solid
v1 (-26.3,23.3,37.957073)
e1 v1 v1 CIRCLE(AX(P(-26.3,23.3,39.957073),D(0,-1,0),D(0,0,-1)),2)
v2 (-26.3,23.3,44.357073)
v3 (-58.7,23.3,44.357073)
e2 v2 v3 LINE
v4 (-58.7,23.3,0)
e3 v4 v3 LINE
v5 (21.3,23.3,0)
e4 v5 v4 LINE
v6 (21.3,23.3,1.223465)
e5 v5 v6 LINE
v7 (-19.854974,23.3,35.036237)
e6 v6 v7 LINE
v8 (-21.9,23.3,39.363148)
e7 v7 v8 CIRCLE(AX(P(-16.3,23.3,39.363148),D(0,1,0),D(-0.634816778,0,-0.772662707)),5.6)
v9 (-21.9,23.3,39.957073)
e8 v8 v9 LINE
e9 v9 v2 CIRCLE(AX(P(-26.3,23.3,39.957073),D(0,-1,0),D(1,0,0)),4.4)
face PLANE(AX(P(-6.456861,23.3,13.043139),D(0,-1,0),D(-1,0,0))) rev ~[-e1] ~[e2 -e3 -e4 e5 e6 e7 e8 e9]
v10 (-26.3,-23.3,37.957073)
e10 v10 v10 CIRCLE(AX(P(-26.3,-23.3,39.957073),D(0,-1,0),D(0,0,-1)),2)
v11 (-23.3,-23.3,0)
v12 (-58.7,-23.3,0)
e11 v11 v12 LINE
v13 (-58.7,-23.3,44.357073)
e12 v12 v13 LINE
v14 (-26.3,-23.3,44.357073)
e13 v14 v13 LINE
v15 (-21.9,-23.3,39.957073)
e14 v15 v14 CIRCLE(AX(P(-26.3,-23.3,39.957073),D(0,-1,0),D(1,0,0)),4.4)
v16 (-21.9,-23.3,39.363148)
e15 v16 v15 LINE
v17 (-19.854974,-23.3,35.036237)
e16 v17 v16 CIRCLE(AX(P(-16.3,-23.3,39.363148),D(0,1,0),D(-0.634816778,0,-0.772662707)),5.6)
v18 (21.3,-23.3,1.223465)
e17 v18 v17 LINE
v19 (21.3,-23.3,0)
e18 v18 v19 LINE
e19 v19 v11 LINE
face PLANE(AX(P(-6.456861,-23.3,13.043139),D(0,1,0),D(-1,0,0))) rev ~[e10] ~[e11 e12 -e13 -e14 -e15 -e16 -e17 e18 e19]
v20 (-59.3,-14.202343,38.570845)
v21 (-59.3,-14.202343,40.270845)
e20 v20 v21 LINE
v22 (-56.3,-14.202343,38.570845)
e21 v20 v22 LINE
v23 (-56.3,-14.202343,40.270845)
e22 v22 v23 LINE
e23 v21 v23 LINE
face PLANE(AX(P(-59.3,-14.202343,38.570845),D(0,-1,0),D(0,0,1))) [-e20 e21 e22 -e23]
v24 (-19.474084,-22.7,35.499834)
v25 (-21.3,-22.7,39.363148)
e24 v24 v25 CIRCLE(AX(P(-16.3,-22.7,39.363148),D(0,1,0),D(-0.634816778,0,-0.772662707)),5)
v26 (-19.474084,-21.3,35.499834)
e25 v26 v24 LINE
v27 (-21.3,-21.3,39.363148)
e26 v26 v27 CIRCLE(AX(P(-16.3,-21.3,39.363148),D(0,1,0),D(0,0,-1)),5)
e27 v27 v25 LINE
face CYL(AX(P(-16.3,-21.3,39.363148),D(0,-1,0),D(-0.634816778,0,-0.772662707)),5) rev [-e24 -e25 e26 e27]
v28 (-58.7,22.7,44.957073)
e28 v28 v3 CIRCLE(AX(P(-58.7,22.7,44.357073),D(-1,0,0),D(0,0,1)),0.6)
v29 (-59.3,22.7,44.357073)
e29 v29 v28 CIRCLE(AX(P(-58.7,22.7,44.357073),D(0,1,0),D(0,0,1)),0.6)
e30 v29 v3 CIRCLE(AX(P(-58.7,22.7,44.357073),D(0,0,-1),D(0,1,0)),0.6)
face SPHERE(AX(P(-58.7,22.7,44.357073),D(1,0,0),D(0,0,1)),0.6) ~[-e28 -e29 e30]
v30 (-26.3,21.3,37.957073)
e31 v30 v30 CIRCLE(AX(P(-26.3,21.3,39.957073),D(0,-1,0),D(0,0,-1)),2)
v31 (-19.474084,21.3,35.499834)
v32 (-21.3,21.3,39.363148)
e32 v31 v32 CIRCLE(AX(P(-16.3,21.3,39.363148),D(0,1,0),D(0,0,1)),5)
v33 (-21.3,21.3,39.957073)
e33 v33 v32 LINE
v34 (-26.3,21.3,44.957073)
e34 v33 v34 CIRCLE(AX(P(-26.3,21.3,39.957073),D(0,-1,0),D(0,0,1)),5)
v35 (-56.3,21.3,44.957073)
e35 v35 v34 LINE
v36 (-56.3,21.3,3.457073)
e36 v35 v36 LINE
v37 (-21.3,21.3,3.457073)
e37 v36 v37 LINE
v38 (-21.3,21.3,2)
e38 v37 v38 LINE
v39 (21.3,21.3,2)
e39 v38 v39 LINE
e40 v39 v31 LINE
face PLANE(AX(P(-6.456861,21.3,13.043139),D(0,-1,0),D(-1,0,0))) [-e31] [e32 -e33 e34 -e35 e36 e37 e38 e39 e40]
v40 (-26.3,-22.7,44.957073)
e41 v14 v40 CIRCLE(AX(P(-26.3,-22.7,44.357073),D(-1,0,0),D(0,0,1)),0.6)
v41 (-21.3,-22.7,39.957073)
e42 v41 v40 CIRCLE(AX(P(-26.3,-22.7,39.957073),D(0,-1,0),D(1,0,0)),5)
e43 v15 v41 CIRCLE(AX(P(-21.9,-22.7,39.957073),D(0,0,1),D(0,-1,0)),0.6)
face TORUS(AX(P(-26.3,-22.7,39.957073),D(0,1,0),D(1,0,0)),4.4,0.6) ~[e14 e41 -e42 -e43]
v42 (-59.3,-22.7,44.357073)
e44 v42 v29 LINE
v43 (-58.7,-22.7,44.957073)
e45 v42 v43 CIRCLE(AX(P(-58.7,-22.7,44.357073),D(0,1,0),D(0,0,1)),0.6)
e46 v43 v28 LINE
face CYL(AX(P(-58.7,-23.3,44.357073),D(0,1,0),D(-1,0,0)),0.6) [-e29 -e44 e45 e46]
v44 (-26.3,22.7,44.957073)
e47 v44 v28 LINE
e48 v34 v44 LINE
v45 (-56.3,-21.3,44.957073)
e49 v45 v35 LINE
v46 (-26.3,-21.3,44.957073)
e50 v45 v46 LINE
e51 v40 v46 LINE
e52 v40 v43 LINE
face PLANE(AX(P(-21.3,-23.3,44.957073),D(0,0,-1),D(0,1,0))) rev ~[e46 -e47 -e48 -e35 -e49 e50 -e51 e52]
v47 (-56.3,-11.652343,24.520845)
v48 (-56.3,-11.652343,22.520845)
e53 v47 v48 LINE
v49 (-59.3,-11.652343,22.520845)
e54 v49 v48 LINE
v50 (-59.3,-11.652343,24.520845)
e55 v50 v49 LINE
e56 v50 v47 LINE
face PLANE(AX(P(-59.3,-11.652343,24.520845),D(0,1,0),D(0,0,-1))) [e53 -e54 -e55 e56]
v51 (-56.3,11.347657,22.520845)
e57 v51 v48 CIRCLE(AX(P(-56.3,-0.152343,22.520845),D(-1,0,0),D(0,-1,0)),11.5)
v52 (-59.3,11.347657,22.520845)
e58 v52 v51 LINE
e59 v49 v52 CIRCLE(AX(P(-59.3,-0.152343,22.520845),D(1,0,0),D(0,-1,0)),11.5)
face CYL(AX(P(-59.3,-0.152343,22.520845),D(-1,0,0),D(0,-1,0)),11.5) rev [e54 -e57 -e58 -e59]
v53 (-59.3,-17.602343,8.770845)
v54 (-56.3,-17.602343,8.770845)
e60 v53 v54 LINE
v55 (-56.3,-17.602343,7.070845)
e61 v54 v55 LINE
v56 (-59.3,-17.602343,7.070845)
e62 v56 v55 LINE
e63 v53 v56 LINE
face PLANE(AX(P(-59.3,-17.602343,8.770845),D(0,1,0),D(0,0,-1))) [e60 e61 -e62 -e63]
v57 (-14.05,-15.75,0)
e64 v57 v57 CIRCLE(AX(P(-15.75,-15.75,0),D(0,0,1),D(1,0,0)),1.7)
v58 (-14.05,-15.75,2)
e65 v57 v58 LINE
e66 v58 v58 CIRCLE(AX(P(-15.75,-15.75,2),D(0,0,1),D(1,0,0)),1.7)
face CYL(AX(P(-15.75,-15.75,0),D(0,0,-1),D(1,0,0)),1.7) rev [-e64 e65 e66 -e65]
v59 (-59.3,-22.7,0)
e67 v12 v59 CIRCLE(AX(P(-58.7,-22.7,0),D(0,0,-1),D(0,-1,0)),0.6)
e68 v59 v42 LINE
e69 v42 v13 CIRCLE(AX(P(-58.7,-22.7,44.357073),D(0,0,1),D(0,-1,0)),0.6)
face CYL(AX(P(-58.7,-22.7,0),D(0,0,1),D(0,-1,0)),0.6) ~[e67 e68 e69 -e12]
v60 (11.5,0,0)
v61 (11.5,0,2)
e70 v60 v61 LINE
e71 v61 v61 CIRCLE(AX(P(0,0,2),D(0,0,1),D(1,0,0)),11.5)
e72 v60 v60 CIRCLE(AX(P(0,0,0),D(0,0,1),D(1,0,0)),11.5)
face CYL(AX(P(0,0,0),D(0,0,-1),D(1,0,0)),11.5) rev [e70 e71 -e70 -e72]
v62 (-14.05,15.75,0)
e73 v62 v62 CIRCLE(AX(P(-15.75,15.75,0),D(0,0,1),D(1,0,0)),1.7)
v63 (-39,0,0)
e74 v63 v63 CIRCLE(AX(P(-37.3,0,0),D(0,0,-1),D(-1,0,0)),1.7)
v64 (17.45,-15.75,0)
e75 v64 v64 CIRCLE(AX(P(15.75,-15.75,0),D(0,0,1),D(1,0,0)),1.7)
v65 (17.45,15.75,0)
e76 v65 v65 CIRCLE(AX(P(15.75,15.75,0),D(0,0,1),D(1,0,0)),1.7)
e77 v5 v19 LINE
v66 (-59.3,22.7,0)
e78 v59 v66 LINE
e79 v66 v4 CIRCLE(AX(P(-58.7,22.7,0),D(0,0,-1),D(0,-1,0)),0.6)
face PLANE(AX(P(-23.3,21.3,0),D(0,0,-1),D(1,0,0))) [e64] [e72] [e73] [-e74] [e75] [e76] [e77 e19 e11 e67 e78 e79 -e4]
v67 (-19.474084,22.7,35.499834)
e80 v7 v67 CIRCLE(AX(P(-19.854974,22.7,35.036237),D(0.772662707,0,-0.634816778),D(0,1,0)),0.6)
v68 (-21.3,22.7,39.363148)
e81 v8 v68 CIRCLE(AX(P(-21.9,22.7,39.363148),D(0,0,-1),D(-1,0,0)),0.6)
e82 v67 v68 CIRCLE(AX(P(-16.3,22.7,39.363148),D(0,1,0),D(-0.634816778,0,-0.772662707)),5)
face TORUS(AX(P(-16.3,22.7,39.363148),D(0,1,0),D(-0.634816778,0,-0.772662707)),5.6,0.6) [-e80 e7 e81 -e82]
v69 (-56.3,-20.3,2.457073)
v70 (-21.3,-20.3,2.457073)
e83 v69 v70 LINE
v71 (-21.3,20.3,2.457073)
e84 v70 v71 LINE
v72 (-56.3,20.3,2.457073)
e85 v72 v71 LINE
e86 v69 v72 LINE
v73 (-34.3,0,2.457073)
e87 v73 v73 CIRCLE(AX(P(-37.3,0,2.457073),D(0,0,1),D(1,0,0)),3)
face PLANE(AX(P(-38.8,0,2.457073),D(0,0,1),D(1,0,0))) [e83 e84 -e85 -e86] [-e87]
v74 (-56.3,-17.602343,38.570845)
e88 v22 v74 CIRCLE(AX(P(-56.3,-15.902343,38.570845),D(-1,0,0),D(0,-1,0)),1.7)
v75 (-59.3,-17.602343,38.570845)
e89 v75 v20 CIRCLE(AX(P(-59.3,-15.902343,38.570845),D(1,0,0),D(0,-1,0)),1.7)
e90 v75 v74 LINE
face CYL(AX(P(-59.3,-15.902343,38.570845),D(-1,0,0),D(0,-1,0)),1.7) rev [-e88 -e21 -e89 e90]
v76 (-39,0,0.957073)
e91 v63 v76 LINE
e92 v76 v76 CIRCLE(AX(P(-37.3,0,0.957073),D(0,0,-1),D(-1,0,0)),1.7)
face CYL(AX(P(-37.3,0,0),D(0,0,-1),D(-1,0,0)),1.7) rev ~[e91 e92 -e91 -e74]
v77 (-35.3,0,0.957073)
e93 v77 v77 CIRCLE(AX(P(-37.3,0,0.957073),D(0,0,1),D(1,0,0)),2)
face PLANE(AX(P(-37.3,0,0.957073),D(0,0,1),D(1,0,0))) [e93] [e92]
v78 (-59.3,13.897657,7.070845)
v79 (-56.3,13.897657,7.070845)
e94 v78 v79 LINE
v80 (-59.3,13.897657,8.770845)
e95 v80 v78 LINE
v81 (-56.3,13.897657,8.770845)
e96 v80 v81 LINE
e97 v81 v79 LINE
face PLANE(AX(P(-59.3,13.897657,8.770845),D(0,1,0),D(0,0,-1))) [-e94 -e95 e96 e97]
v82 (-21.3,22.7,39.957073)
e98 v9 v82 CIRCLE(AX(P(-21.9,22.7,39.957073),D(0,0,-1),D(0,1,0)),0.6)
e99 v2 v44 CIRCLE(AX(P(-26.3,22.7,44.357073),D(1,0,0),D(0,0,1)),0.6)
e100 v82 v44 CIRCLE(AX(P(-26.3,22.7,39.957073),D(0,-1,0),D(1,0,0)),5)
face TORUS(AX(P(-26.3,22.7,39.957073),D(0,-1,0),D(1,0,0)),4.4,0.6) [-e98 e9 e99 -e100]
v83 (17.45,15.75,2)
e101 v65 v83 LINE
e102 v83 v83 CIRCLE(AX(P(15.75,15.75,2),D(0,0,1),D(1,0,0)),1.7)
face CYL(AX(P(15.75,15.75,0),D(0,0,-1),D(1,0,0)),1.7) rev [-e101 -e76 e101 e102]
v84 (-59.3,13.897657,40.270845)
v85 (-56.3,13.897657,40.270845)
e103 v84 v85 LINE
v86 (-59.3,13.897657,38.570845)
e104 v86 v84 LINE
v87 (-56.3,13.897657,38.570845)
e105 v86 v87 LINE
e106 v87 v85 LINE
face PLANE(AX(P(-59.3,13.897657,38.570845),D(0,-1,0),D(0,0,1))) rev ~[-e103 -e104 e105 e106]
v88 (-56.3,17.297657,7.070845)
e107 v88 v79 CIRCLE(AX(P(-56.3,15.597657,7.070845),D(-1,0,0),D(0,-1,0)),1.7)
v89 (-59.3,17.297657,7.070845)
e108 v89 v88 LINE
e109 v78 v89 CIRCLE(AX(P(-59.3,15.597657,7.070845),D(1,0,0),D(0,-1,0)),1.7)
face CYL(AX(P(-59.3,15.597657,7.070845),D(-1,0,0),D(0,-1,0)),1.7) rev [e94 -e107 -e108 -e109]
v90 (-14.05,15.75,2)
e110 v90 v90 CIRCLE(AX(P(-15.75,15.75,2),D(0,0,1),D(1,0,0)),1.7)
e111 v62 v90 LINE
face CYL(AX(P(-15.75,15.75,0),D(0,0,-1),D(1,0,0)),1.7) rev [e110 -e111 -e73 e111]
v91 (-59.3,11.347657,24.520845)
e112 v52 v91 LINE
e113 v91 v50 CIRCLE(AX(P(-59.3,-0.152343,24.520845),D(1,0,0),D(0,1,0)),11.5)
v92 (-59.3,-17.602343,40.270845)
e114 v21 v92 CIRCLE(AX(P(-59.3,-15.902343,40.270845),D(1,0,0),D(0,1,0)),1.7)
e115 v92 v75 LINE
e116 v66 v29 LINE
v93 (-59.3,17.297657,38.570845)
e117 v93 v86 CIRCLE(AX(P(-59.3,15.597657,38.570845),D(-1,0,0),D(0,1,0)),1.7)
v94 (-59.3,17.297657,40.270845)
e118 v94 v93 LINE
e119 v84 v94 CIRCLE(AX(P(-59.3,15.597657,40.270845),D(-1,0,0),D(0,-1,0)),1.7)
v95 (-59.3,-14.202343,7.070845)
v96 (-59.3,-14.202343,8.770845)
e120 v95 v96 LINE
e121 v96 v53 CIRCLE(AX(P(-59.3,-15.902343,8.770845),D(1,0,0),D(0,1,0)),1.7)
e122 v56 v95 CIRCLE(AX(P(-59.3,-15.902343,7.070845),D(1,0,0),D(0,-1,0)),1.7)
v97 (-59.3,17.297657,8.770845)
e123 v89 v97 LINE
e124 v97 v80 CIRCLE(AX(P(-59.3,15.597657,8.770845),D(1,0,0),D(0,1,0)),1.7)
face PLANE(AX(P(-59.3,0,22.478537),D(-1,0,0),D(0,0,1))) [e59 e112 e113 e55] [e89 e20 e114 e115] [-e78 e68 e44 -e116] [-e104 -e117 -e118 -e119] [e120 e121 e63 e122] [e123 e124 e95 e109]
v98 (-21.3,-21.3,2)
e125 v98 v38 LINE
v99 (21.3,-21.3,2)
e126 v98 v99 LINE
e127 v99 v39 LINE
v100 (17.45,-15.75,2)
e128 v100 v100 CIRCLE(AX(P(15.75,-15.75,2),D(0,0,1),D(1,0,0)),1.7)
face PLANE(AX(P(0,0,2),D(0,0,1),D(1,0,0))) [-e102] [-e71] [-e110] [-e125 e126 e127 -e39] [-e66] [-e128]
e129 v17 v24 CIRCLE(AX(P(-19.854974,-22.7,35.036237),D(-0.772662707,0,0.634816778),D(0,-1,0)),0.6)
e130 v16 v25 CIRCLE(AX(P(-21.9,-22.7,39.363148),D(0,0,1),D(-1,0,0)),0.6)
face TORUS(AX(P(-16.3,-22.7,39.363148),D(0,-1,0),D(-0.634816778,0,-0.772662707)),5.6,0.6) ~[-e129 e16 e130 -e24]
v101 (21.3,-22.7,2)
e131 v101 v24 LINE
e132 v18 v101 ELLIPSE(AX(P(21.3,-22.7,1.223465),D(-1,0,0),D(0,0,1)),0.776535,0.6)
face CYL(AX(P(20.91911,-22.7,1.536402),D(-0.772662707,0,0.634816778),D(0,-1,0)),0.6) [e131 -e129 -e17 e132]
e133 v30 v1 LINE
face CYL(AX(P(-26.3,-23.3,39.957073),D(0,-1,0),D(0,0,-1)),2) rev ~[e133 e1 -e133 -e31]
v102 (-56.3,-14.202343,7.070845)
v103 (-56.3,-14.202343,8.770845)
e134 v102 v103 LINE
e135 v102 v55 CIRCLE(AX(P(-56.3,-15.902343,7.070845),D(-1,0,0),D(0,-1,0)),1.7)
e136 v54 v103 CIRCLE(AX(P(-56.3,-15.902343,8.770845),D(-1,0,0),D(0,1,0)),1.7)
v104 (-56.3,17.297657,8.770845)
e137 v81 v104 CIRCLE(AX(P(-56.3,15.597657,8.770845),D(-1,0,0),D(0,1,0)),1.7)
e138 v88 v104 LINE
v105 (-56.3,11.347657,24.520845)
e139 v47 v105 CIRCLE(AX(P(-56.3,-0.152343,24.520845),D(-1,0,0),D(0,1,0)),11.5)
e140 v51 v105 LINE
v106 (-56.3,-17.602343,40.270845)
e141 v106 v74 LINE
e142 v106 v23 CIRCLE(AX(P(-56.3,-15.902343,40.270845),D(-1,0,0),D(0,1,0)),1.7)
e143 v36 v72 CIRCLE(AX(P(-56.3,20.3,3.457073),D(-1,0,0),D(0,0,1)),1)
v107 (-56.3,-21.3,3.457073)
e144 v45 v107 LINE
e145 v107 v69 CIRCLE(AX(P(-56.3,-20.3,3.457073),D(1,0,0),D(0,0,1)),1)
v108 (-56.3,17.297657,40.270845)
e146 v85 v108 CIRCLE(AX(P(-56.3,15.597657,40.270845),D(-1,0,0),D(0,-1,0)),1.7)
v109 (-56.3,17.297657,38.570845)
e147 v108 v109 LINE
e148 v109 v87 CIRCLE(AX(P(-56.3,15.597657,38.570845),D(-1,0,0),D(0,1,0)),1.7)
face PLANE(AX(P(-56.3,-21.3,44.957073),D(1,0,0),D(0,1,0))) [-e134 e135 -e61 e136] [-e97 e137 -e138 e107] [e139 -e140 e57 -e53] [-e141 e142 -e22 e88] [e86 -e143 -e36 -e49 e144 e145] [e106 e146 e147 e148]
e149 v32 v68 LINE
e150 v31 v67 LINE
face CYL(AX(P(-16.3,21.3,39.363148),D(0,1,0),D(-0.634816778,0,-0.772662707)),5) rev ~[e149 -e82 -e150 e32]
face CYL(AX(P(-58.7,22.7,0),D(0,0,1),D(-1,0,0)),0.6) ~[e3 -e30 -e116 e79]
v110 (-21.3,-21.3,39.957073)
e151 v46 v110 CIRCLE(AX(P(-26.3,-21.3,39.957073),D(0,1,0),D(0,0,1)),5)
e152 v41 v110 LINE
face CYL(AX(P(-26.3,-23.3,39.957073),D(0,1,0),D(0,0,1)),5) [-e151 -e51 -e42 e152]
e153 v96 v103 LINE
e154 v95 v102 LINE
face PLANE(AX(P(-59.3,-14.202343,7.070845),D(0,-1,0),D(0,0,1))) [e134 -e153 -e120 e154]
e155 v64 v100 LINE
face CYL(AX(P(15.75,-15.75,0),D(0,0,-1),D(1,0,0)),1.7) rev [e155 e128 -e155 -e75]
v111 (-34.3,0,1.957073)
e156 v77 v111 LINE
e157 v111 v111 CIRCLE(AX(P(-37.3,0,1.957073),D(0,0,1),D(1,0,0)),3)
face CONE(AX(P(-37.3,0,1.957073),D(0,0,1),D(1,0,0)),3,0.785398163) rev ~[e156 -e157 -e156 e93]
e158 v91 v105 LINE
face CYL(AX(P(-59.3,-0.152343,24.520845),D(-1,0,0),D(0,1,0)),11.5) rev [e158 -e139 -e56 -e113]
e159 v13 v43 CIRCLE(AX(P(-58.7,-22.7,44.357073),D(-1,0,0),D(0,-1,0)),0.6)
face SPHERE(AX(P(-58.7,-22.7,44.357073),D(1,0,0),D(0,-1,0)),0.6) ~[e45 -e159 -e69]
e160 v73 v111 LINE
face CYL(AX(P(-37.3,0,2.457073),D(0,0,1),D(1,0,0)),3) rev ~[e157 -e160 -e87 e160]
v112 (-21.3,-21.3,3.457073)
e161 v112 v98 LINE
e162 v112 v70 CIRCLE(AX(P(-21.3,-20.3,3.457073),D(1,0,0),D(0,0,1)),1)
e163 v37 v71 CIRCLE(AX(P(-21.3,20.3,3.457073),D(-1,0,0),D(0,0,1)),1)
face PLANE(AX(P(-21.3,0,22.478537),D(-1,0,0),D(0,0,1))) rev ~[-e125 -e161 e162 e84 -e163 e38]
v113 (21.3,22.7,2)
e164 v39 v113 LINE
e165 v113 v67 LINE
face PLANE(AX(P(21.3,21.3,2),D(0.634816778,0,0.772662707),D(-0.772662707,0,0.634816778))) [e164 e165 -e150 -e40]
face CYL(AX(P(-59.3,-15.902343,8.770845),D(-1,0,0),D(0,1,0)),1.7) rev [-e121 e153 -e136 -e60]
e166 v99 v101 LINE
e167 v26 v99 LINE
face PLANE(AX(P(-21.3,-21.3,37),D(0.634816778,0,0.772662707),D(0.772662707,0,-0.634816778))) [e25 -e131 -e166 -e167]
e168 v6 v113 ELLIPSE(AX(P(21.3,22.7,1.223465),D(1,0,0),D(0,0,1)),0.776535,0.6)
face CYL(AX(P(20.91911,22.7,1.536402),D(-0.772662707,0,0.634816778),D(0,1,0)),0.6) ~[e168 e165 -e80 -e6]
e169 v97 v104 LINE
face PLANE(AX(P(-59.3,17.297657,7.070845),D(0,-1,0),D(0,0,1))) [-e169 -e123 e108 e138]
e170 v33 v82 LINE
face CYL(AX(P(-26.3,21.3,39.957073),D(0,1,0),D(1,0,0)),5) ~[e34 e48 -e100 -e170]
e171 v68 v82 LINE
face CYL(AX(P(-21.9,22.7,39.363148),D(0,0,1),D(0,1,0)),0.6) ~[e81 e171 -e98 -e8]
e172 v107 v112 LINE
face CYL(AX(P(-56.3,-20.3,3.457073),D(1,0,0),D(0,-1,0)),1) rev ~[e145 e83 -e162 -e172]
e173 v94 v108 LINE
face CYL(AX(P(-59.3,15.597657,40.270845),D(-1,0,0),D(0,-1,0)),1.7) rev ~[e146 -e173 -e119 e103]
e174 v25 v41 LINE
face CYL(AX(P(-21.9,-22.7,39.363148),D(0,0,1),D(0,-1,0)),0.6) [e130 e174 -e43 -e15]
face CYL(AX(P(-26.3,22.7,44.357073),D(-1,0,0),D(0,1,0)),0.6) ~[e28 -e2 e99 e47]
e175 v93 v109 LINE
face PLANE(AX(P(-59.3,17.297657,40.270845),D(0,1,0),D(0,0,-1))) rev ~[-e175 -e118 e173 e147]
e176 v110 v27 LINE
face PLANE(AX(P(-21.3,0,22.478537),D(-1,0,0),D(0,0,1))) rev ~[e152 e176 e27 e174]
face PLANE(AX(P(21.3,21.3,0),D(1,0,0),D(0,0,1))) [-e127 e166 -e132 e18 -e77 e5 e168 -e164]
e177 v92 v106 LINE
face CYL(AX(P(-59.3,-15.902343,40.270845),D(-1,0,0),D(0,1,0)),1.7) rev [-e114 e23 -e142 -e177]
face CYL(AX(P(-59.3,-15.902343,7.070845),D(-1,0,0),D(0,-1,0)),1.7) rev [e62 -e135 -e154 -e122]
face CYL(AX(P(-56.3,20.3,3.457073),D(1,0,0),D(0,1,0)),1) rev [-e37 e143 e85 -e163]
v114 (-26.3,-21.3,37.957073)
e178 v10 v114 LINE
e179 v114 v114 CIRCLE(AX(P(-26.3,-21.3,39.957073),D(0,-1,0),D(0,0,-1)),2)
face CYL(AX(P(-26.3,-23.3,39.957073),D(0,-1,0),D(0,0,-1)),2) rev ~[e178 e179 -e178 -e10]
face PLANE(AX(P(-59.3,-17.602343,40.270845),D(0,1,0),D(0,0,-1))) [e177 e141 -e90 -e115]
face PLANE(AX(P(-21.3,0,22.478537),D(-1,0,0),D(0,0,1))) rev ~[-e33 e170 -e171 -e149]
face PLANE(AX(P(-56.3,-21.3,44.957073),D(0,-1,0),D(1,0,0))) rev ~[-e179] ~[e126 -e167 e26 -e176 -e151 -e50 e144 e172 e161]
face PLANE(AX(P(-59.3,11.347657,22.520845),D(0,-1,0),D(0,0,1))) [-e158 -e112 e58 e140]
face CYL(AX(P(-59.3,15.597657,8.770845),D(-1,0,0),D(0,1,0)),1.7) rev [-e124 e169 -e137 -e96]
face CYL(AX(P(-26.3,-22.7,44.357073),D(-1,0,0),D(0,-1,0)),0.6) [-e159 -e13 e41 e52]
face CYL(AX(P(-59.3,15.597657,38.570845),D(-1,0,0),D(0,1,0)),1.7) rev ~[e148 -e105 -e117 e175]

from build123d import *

# Parameters (mm, degrees)
SKETCH_1_W               = 42.6
SKETCH_1_H               = 42.6
SKETCH_1_R               = 1.7
SKETCH_1_R_2             = 11.5
EXTRUDE_1_DEPTH          = 2
SKETCH_2_W               = 37
SKETCH_2_H               = 42.6
EXTRUDE_2_DEPTH          = 2
EXTRUDE_3_DEPTH          = 2
EXTRUDE_4_DEPTH          = 2
BOSS_EXTRUDE1_DEPTH      = 36
BOSS_EXTRUDE1_DEPTH_BACK = 2
SKETCH1_W                = 44.957073211
SKETCH1_H                = 46.6
SKETCH4_W                = 35
SKETCH4_H                = 42.6
CUT_EXTRUDE2_DEPTH       = 42.5
CUT_EXTRUDE3_REACH       = 97.186
CUT_EXTRUDE4_REACH       = 79.978
SKETCH6_R                = 1.7
SKETCH7_R                = 3
CUT_EXTRUDE5_DEPTH       = 1.5
FILLET1_R                = 5
FILLET2_R                = 1
CHAMFER1_SIZE            = 1
FILLET3_R                = 0.6
SKETCH8_R                = 2
CUT_EXTRUDE6_DEPTH       = 88.801984213


with BuildPart() as part:
    # Эскиз1 → Бобышка-Вытянуть1 (new body)
    with BuildSketch(Plane.XY):
        Rectangle(SKETCH_1_W, SKETCH_1_H)
        with Locations((-15.75, 15.75)):
            Circle(SKETCH_1_R, mode=Mode.SUBTRACT)
        with Locations((15.75, 15.75)):
            Circle(SKETCH_1_R, mode=Mode.SUBTRACT)
        with Locations((15.75, -15.75)):
            Circle(SKETCH_1_R, mode=Mode.SUBTRACT)
        with Locations((-15.75, -15.75)):
            Circle(SKETCH_1_R, mode=Mode.SUBTRACT)
        Circle(SKETCH_1_R_2, mode=Mode.SUBTRACT)
    extrude(amount=EXTRUDE_1_DEPTH)

    # Эскиз2 → Бобышка-Вытянуть2 (add)
    with BuildSketch(Plane.ZY.offset(21.3)):
        with Locations((18.5, 0)):
            Rectangle(SKETCH_2_W, SKETCH_2_H)
    extrude(amount=EXTRUDE_2_DEPTH)

    # Эскиз3 → Бобышка-Вытянуть3 (add)
    with BuildSketch(Plane.XZ.offset(21.3)):
        Polygon((-23.3, 0), (-23.3, 37), (-21.3, 37), (21.3, 2), (21.3, 0), align=None)
    extrude(amount=EXTRUDE_3_DEPTH)

    # Эскиз4 → Бобышка-Вытянуть4 (add)
    with BuildSketch(Plane(origin=(0, 21.3, 0), x_dir=(1, 0, 0), z_dir=(0, 1, 0))):
        Polygon((-23.3, -37), (-23.3, 0), (21.3, 0), (21.3, -2), (-21.3, -37), align=None)
    extrude(amount=EXTRUDE_4_DEPTH)

    # Sketch1 → Boss-Extrude1 (add, two sides: drawn at the far end of the back side and taken through both)
    with BuildSketch(Plane.ZY.offset(23.3).offset(-BOSS_EXTRUDE1_DEPTH_BACK)):
        with Locations((22.478536606, 0)):
            Rectangle(SKETCH1_W, SKETCH1_H)
    extrude(amount=BOSS_EXTRUDE1_DEPTH + BOSS_EXTRUDE1_DEPTH_BACK)

    # Sketch4 → Cut-Extrude2 (cut)
    with BuildSketch(Plane.XY.offset(44.957073211)):
        with Locations((-38.8, 0)):
            Rectangle(SKETCH4_W, SKETCH4_H)
    extrude(amount=-CUT_EXTRUDE2_DEPTH, mode=Mode.SUBTRACT)

    # Sketch5 → Cut-Extrude3 (cut, up to next)
    with BuildSketch(Plane.ZY.offset(59.3), mode=Mode.PRIVATE) as cut_extrude3_sk1:
        with BuildLine():
            Line((38.570845355, -14.202343453), (40.270845355, -14.202343453))
            ThreePointArc((40.270845355, -14.202343453), (41.970845355, -15.902343453), (40.270845355, -17.602343453))
            Line((40.270845355, -17.602343453), (38.570845355, -17.602343453))
            ThreePointArc((38.570845355, -17.602343453), (36.870845355, -15.902343453), (38.570845355, -14.202343453))
        make_face()
    cut_extrude3_tool1 = extrude(cut_extrude3_sk1.sketch, amount=-CUT_EXTRUDE3_REACH, mode=Mode.PRIVATE) & part.part
    # Sketch5 → Cut-Extrude3 (cut, up to next)
    with BuildSketch(Plane.ZY.offset(59.3), mode=Mode.PRIVATE) as cut_extrude3_sk2:
        with BuildLine():
            Line((38.570845355, 13.897656547), (40.270845355, 13.897656547))
            ThreePointArc((40.270845355, 13.897656547), (41.970845355, 15.597656547), (40.270845355, 17.297656547))
            Line((40.270845355, 17.297656547), (38.570845355, 17.297656547))
            ThreePointArc((38.570845355, 17.297656547), (36.870845355, 15.597656547), (38.570845355, 13.897656547))
        make_face()
    cut_extrude3_tool2 = extrude(cut_extrude3_sk2.sketch, amount=-CUT_EXTRUDE3_REACH, mode=Mode.PRIVATE) & part.part
    # Sketch5 → Cut-Extrude3 (cut, up to next)
    with BuildSketch(Plane.ZY.offset(59.3), mode=Mode.PRIVATE) as cut_extrude3_sk3:
        with BuildLine():
            Line((7.070845355, 17.297656547), (8.770845355, 17.297656547))
            ThreePointArc((8.770845355, 17.297656547), (10.470845355, 15.597656547), (8.770845355, 13.897656547))
            Line((8.770845355, 13.897656547), (7.070845355, 13.897656547))
            ThreePointArc((7.070845355, 13.897656547), (5.370845355, 15.597656547), (7.070845355, 17.297656547))
        make_face()
    cut_extrude3_tool3 = extrude(cut_extrude3_sk3.sketch, amount=-CUT_EXTRUDE3_REACH, mode=Mode.PRIVATE) & part.part
    # Sketch5 → Cut-Extrude3 (cut, up to next)
    with BuildSketch(Plane.ZY.offset(59.3), mode=Mode.PRIVATE) as cut_extrude3_sk4:
        with BuildLine():
            Line((7.070845355, -14.202343453), (8.770845355, -14.202343453))
            ThreePointArc((8.770845355, -14.202343453), (10.470845355, -15.902343453), (8.770845355, -17.602343453))
            Line((8.770845355, -17.602343453), (7.070845355, -17.602343453))
            ThreePointArc((7.070845355, -17.602343453), (5.370845355, -15.902343453), (7.070845355, -14.202343453))
        make_face()
    cut_extrude3_tool4 = extrude(cut_extrude3_sk4.sketch, amount=-CUT_EXTRUDE3_REACH, mode=Mode.PRIVATE) & part.part
    # Sketch5 → Cut-Extrude3 (cut, up to next)
    with BuildSketch(Plane.ZY.offset(59.3), mode=Mode.PRIVATE) as cut_extrude3_sk5:
        with BuildLine():
            Line((22.520845355, 11.347656547), (24.520845355, 11.347656547))
            ThreePointArc((24.520845355, 11.347656547), (36.020845355, -0.152343453), (24.520845355, -11.652343453))
            Line((24.520845355, -11.652343453), (22.520845355, -11.652343453))
            ThreePointArc((22.520845355, -11.652343453), (11.020845355, -0.152343453), (22.520845355, 11.347656547))
        make_face()
    cut_extrude3_tool5 = extrude(cut_extrude3_sk5.sketch, amount=-CUT_EXTRUDE3_REACH, mode=Mode.PRIVATE) & part.part
    add(cut_extrude3_tool1.solids().sort_by_distance((-59.3, -15.902343, 39.420845))[0], mode=Mode.SUBTRACT)
    add(cut_extrude3_tool2.solids().sort_by_distance((-59.3, 15.597657, 39.420845))[0], mode=Mode.SUBTRACT)
    add(cut_extrude3_tool3.solids().sort_by_distance((-59.3, 15.597657, 7.920845))[0], mode=Mode.SUBTRACT)
    add(cut_extrude3_tool4.solids().sort_by_distance((-59.3, -15.902343, 7.920845))[0], mode=Mode.SUBTRACT)
    add(cut_extrude3_tool5.solids().sort_by_distance((-59.3, -0.152343, 23.520845))[0], mode=Mode.SUBTRACT)

    # Sketch6 → Cut-Extrude4 (cut, up to next)
    with BuildSketch(Plane(origin=(0, 0, 0), x_dir=(-1, 0, 0), z_dir=(0, 0, -1)), mode=Mode.PRIVATE) as cut_extrude4_sk1:
        with Locations((37.3, 0)):
            Circle(SKETCH6_R)
    cut_extrude4_tool1 = extrude(cut_extrude4_sk1.sketch, amount=-CUT_EXTRUDE4_REACH, mode=Mode.PRIVATE) & part.part
    add(cut_extrude4_tool1.solids().sort_by_distance((-37.3, 0, 0))[0], mode=Mode.SUBTRACT)

    # Sketch7 → Cut-Extrude5 (cut)
    with BuildSketch(Plane.XY.offset(2.457073211)):
        with Locations((-37.3, 0)):
            Circle(SKETCH7_R)
    extrude(amount=-CUT_EXTRUDE5_DEPTH, mode=Mode.SUBTRACT)

    # Fillet1
    fillet1_edges = [part.edges().sort_by_distance(p)[0] for p in [
        (-21.3, 22.3, 44.957073211),
        (-21.3, -22.3, 37),
        (-21.3, 22.3, 37),
        (-21.3, -22.3, 44.957073211),
    ]]
    fillet(fillet1_edges, radius=FILLET1_R)

    # Fillet2
    fillet2_edges = [part.edges().sort_by_distance(p)[0] for p in [
        (-38.8, -21.3, 2.457073211),
        (-38.8, 21.3, 2.457073211),
    ]]
    fillet(fillet2_edges, radius=FILLET2_R)

    # Chamfer1
    chamfer1_edges = [part.edges().sort_by_distance(p)[0] for p in [
        (-40.3, 0, 0.957073211),
    ]]
    chamfer(chamfer1_edges, length=CHAMFER1_SIZE)

    # Fillet3
    fillet3_edges = [part.edges().sort_by_distance(p)[0] for p in [
        (0.912958055, 23.3, 18.749917091),
        (-21.3, 23.3, 39.660110463),
        (-21.3, -23.3, 39.660110463),
        (-42.8, 23.3, 44.957073211),
        (-42.8, -23.3, 44.957073211),
        (-22.764466094, -23.3, 43.492607117),
        (-22.764466094, 23.3, 43.492607117),
        (-20.820532018, 23.3, 37.226610733),
        (-20.820532018, -23.3, 37.226610733),
        (0.912958055, -23.3, 18.749917091),
        (-59.3, -23.3, 22.478536605),
        (-59.3, 0, 44.957073211),
        (-59.3, 23.3, 22.478536605),
    ]]
    fillet(fillet3_edges, radius=FILLET3_R)

    # Sketch8 → Cut-Extrude6 (cut, through all)
    with BuildSketch(Plane.XZ.offset(23.3)):
        with Locations(Location((-26.3, 39.957073211, 0), (0, 0, 270))):
            Circle(SKETCH8_R)
    extrude(amount=-CUT_EXTRUDE6_DEPTH, mode=Mode.SUBTRACT)


solid = part.part
